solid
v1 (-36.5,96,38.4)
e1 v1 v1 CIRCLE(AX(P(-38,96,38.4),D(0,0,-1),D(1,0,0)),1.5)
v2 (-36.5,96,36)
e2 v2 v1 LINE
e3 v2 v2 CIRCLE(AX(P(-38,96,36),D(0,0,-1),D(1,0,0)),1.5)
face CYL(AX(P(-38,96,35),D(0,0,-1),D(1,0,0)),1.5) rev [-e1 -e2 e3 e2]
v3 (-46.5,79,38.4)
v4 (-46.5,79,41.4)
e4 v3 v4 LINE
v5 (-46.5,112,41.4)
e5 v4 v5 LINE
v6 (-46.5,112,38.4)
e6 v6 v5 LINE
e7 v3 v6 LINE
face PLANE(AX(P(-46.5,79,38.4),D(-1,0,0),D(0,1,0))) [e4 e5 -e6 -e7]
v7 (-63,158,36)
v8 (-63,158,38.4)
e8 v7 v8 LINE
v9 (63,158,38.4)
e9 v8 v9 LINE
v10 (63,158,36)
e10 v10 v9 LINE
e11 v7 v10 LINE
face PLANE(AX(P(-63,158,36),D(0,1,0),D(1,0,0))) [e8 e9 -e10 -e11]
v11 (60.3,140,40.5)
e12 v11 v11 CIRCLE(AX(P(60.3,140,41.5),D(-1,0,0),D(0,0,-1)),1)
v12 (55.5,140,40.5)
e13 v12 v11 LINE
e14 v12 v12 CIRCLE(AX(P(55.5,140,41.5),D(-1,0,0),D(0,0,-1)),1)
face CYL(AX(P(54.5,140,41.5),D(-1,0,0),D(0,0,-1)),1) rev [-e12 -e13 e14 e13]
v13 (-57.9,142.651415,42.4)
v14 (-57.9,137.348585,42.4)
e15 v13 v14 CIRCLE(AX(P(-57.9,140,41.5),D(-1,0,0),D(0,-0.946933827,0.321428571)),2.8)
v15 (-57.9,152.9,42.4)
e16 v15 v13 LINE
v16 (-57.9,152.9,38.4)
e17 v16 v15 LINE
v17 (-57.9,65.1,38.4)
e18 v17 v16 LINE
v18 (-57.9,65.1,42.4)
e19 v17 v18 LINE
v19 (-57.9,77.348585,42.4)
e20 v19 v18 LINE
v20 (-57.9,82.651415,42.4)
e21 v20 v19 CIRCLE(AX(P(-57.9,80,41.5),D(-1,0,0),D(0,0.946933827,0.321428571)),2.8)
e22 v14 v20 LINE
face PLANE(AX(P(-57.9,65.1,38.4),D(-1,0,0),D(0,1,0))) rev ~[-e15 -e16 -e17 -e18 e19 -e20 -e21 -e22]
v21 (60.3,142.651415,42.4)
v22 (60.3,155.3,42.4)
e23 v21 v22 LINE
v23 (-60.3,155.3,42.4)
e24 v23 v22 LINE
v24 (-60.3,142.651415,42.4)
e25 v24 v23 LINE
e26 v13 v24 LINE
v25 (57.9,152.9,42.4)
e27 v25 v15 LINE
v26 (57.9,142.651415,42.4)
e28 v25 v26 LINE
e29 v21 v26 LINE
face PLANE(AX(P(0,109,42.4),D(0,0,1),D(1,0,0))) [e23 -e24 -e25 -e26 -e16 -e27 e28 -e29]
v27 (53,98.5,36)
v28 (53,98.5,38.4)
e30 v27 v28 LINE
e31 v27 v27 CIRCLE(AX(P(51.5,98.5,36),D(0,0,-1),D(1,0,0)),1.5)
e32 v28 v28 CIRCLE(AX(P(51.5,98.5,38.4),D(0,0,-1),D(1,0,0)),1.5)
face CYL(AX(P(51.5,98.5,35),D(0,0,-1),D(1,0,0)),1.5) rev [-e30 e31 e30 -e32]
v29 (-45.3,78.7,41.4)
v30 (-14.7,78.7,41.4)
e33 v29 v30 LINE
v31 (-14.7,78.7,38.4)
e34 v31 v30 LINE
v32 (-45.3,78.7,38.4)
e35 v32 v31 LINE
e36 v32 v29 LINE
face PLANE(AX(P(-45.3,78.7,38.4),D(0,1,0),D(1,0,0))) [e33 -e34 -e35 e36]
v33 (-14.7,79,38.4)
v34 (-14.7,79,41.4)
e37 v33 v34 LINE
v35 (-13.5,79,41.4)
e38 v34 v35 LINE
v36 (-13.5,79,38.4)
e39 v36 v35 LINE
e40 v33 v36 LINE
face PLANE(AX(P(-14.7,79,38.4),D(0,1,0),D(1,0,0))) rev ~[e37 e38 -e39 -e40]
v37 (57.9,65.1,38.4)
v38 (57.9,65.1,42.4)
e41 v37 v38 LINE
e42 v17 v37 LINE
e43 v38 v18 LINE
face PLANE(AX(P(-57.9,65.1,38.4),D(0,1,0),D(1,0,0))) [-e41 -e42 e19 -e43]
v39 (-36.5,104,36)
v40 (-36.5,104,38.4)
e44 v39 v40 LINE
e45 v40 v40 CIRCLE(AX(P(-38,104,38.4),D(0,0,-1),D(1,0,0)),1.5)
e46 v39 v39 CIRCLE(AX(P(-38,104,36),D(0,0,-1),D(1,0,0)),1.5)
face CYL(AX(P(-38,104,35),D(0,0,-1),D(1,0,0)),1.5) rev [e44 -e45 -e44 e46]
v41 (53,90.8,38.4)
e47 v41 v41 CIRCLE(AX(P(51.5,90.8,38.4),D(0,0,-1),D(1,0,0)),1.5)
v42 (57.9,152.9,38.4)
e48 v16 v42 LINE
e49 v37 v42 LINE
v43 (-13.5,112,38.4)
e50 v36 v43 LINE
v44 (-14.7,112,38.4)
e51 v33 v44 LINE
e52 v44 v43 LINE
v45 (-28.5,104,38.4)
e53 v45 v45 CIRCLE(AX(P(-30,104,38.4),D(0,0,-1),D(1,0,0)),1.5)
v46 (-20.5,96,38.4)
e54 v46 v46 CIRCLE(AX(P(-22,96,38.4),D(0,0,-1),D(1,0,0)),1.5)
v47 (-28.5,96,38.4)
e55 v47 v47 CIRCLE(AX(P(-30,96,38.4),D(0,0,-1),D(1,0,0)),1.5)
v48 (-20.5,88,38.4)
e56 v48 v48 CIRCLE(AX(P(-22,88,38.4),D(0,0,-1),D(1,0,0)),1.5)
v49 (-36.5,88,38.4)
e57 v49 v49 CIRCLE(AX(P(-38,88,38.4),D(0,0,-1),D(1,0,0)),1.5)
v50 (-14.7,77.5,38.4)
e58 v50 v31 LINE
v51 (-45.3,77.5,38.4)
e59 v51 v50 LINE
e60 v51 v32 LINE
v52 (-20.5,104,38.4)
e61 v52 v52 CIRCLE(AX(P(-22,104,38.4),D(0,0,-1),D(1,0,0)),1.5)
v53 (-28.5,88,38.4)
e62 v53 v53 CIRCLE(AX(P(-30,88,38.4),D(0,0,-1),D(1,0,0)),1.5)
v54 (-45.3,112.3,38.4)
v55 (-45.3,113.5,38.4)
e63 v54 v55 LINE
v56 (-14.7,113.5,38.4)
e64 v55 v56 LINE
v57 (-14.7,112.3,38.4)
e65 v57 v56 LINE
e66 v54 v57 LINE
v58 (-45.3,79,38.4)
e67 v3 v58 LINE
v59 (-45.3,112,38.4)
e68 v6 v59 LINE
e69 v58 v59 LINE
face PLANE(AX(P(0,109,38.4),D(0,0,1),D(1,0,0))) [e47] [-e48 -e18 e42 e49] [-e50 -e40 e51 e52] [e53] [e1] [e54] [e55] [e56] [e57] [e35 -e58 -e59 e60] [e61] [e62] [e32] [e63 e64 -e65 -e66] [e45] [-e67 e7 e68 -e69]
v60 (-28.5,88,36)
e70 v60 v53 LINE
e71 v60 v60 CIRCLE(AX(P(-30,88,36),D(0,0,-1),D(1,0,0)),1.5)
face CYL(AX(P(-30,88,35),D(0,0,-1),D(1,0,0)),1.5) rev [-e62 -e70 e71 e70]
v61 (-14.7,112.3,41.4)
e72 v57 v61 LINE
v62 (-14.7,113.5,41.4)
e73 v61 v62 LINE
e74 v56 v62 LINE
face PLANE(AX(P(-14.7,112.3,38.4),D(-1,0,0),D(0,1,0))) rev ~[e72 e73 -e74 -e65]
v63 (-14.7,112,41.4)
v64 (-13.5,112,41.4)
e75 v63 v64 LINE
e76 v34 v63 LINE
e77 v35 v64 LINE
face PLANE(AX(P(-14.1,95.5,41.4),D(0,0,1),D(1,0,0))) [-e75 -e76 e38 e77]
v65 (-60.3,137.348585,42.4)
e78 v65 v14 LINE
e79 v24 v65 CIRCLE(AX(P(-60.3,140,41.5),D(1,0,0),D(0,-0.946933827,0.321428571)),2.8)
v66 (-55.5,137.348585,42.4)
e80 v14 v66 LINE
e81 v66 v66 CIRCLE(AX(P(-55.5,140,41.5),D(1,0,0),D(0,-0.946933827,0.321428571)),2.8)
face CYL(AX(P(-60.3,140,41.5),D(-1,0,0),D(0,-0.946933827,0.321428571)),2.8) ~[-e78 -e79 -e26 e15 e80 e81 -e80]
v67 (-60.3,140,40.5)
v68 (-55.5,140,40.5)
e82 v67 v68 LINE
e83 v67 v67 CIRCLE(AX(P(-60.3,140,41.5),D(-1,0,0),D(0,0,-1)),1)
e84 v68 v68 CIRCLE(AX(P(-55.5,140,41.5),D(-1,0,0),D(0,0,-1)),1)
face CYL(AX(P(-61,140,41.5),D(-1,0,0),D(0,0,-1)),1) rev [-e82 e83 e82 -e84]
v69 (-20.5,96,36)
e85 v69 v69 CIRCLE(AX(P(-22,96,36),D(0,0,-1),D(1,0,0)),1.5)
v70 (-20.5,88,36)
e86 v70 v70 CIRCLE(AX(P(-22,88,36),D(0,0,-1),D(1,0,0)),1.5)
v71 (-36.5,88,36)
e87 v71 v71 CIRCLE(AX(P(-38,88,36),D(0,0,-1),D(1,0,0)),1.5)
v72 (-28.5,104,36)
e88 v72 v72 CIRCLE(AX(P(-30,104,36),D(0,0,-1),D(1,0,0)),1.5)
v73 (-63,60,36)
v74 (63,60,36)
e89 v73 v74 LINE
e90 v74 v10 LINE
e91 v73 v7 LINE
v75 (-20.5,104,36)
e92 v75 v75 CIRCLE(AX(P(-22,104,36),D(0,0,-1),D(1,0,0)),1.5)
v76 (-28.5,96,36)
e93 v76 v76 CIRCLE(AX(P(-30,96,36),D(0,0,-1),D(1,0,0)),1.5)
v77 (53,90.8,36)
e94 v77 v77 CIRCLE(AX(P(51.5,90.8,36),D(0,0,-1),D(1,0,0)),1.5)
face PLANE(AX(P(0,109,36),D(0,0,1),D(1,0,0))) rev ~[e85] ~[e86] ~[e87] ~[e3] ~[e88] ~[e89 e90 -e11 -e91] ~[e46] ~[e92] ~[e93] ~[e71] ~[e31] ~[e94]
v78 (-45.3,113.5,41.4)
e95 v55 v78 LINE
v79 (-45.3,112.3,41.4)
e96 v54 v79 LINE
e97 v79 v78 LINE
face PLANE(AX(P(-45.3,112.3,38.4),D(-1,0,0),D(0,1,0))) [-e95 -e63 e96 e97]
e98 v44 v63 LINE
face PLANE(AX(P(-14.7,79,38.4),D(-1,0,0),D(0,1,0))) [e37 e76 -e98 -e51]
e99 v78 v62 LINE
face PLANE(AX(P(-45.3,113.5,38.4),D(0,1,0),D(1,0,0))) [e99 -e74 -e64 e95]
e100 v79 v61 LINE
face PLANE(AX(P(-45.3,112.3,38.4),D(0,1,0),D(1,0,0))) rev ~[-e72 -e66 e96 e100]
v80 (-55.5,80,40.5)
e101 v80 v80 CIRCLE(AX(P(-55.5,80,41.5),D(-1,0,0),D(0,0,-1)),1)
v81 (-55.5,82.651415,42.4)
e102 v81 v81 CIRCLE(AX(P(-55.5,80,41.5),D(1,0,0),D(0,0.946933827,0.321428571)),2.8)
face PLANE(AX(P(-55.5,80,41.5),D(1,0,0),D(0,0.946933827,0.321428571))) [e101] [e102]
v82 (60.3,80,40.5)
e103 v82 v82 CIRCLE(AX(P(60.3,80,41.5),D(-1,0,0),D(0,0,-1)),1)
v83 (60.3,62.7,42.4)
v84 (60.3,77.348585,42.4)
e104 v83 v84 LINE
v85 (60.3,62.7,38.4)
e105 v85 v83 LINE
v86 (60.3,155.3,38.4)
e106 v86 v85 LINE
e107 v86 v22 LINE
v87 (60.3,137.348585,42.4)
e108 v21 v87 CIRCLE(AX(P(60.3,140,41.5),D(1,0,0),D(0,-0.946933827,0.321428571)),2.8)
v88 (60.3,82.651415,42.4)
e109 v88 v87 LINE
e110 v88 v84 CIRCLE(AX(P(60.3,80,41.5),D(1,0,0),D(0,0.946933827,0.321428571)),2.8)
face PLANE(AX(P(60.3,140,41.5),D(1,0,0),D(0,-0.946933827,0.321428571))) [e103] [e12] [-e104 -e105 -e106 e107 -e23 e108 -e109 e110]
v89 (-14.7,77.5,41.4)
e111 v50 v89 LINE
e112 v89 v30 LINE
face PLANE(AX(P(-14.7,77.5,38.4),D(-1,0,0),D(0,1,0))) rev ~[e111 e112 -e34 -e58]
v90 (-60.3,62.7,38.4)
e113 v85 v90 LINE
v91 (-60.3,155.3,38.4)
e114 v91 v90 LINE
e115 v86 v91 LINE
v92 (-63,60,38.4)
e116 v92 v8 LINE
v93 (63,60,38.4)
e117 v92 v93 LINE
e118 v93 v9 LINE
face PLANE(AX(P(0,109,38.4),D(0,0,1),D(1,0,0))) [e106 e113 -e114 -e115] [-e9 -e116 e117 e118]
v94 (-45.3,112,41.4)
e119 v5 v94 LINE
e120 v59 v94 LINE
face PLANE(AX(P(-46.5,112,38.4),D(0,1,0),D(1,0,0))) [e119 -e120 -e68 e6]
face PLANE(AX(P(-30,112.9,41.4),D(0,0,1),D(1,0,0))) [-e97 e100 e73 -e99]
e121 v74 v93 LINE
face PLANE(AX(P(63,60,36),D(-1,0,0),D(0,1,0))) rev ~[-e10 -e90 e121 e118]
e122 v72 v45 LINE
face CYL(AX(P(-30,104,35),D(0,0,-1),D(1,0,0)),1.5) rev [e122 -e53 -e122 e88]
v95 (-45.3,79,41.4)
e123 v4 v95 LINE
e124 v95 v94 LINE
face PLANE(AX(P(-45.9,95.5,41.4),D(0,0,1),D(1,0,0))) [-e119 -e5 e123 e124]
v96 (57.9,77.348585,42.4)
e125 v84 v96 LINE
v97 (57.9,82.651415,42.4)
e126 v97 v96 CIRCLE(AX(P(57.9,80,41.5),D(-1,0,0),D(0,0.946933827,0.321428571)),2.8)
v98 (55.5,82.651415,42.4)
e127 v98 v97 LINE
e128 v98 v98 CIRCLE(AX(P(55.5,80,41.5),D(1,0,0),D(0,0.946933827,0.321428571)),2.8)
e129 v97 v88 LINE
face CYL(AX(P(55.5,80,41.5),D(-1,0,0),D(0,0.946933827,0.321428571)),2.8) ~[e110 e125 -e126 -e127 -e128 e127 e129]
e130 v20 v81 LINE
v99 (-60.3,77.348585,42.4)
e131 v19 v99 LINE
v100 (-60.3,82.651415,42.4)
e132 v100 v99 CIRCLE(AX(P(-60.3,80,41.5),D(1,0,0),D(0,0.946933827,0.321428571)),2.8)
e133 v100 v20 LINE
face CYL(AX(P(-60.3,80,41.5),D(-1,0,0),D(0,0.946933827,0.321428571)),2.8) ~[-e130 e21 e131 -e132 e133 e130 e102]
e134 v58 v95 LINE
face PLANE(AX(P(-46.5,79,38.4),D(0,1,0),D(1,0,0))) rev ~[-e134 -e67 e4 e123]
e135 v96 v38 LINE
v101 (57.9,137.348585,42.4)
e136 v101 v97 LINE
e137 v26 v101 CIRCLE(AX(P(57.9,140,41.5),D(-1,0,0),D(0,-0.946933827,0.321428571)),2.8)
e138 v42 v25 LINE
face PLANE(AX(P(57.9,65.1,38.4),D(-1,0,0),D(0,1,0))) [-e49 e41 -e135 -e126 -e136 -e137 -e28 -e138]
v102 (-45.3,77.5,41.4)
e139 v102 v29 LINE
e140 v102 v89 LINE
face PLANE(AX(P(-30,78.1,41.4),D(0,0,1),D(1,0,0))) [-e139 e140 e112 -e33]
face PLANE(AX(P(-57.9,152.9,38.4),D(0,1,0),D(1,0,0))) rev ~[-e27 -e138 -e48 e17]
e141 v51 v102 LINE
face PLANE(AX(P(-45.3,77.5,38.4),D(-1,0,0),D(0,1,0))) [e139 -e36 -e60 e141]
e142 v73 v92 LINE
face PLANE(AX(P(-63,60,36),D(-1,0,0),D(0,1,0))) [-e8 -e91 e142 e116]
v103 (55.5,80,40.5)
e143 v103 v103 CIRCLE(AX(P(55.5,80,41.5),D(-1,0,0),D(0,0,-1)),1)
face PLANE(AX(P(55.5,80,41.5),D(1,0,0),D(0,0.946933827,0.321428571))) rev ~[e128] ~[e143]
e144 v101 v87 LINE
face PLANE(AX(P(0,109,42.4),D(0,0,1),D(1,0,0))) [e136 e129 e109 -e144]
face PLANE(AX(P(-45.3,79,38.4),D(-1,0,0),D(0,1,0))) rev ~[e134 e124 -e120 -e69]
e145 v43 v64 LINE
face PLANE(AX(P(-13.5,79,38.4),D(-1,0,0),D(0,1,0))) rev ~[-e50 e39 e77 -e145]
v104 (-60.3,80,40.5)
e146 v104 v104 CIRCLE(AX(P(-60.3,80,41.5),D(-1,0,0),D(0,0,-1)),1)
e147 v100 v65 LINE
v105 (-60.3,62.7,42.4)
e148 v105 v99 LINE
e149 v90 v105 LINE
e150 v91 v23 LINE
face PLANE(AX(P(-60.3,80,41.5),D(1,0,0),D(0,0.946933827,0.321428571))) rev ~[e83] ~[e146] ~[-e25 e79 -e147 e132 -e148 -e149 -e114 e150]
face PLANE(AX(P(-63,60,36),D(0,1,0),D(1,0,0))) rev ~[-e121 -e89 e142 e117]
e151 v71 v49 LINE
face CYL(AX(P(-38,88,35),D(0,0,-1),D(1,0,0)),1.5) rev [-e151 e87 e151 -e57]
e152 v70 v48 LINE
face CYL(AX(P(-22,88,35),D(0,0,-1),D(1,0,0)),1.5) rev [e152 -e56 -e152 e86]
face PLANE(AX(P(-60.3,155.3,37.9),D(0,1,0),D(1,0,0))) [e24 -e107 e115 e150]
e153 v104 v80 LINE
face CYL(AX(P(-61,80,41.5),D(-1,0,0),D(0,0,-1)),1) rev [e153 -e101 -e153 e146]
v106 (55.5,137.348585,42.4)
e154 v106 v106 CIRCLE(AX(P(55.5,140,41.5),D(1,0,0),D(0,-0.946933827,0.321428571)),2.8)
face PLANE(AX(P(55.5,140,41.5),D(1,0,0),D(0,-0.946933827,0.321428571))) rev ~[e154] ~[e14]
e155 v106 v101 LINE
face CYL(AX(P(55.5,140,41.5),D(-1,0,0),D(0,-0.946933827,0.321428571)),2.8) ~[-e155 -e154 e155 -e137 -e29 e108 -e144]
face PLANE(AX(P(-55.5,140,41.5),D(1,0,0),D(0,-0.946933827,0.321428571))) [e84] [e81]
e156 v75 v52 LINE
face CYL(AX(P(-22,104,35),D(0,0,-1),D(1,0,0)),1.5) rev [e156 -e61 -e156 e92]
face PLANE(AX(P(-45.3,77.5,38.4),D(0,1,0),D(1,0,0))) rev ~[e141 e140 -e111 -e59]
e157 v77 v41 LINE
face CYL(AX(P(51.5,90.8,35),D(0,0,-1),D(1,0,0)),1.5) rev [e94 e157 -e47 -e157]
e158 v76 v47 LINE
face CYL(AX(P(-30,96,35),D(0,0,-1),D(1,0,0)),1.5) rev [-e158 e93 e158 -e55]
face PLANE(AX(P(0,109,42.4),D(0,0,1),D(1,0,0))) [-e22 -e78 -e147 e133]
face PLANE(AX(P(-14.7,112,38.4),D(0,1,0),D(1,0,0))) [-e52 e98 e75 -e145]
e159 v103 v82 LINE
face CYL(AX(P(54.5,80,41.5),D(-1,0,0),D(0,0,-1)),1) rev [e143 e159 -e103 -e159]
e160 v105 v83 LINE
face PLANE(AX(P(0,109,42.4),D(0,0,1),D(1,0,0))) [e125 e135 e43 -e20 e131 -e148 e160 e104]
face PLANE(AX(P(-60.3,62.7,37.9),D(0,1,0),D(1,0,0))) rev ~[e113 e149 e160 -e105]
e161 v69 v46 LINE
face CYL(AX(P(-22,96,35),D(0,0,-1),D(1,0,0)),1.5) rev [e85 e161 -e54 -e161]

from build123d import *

# Parameters (mm, degrees)
BOSS_EXTRUDE1_START  = 36
SKETCH1_W            = 126
SKETCH1_H            = 98
BOSS_EXTRUDE1_DEPTH  = 2.4
BOSS_EXTRUDE2_START  = 37.9
SKETCH2_W            = 120.6
SKETCH2_H            = 92.6
BOSS_EXTRUDE2_DEPTH  = 4.5
BOSS_EXTRUDE3_START  = 38.4
SKETCH3_W            = 115.8
SKETCH3_H            = 87.8
BOSS_EXTRUDE3_DEPTH  = 5
BOSS_EXTRUDE4_START  = -60.3
SKETCH4_R            = 2.8
BOSS_EXTRUDE4_DEPTH  = 4.8
BOSS_EXTRUDE5_START  = -61
SKETCH5_R            = 1
BOSS_EXTRUDE5_DEPTH  = 6.5
BOSS_EXTRUDE6_START  = -60.3
SKETCH6_R            = 2.8
BOSS_EXTRUDE6_DEPTH  = 4.8
BOSS_EXTRUDE7_START  = -61
SKETCH7_R            = 1
BOSS_EXTRUDE7_DEPTH  = 6.5
BOSS_EXTRUDE8_START  = 55.5
SKETCH8_R            = 2.8
BOSS_EXTRUDE8_DEPTH  = 4.8
BOSS_EXTRUDE9_START  = 54.5
SKETCH9_R            = 1
BOSS_EXTRUDE9_DEPTH  = 6.5
BOSS_EXTRUDE10_START = 55.5
SKETCH10_R           = 2.8
BOSS_EXTRUDE10_DEPTH = 4.8
BOSS_EXTRUDE11_START = 54.5
SKETCH11_R           = 1
BOSS_EXTRUDE11_DEPTH = 6.5
BOSS_EXTRUDE12_START = 35
SKETCH12_R           = 1.5
BOSS_EXTRUDE12_DEPTH = 4.4
BOSS_EXTRUDE13_START = 35
SKETCH13_R           = 1.5
BOSS_EXTRUDE13_DEPTH = 4.4
BOSS_EXTRUDE14_START = 35
SKETCH14_R           = 1.5
BOSS_EXTRUDE14_DEPTH = 4.4
BOSS_EXTRUDE15_START = 35
SKETCH15_R           = 1.5
BOSS_EXTRUDE15_DEPTH = 4.4
BOSS_EXTRUDE16_START = 35
SKETCH16_R           = 1.5
BOSS_EXTRUDE16_DEPTH = 4.4
BOSS_EXTRUDE17_START = 35
SKETCH17_R           = 1.5
BOSS_EXTRUDE17_DEPTH = 4.4
BOSS_EXTRUDE18_START = 35
SKETCH18_R           = 1.5
BOSS_EXTRUDE18_DEPTH = 4.4
BOSS_EXTRUDE19_START = 35
SKETCH19_R           = 1.5
BOSS_EXTRUDE19_DEPTH = 4.4
BOSS_EXTRUDE20_START = 35
SKETCH20_R           = 1.5
BOSS_EXTRUDE20_DEPTH = 4.4
BOSS_EXTRUDE21_START = 38.4
SKETCH21_W           = 1.2
SKETCH21_H           = 33
BOSS_EXTRUDE21_DEPTH = 3
BOSS_EXTRUDE22_START = 38.4
SKETCH22_W           = 1.2
SKETCH22_H           = 33
BOSS_EXTRUDE22_DEPTH = 3
BOSS_EXTRUDE23_START = 38.4
SKETCH23_W           = 30.6
SKETCH23_H           = 1.2
BOSS_EXTRUDE23_DEPTH = 3
BOSS_EXTRUDE24_START = 38.4
SKETCH24_W           = 30.6
SKETCH24_H           = 1.2
BOSS_EXTRUDE24_DEPTH = 3
BOSS_EXTRUDE25_START = 35
SKETCH25_R           = 1.5
BOSS_EXTRUDE25_DEPTH = 4.4
BOSS_EXTRUDE26_START = 35
SKETCH26_R           = 1.5
BOSS_EXTRUDE26_DEPTH = 4.4


with BuildPart() as part:
    # Sketch1 → Boss-Extrude1 (new body)
    with BuildSketch(Plane.XY.offset(BOSS_EXTRUDE1_START)):
        with Locations((0, 109)):
            Rectangle(SKETCH1_W, SKETCH1_H)
    extrude(amount=BOSS_EXTRUDE1_DEPTH)

    # Sketch2 → Boss-Extrude2 (add)
    with BuildSketch(Plane.XY.offset(BOSS_EXTRUDE2_START)):
        with Locations((0, 109)):
            Rectangle(SKETCH2_W, SKETCH2_H)
    extrude(amount=BOSS_EXTRUDE2_DEPTH)


with BuildPart() as body_2:
    # Sketch3 → Boss-Extrude3 (new body)
    with BuildSketch(Plane.XY.offset(BOSS_EXTRUDE3_START)):
        with Locations((0, 109)):
            Rectangle(SKETCH3_W, SKETCH3_H)
    extrude(amount=BOSS_EXTRUDE3_DEPTH)


with BuildPart() as part_1:
    add(part.part)

    # Combine1: cut body 2
    add(body_2.part, mode=Mode.SUBTRACT)

    # Sketch4 → Boss-Extrude4 (add)
    with BuildSketch(Plane(origin=(0, 0, 0), x_dir=(0, 0, -1), z_dir=(1, 0, 0)).offset(BOSS_EXTRUDE4_START)):
        with Locations((-41.5, 80)):
            Circle(SKETCH4_R)
    extrude(amount=BOSS_EXTRUDE4_DEPTH)


with BuildPart() as body_2_2:
    # Sketch5 → Boss-Extrude5 (new body)
    with BuildSketch(Plane(origin=(0, 0, 0), x_dir=(0, 0, -1), z_dir=(1, 0, 0)).offset(BOSS_EXTRUDE5_START)):
        with Locations((-41.5, 80)):
            Circle(SKETCH5_R)
    extrude(amount=BOSS_EXTRUDE5_DEPTH)


with BuildPart() as part_2:
    add(part_1.part)

    # Combine2: cut body 2 2
    add(body_2_2.part, mode=Mode.SUBTRACT)

    # Sketch6 → Boss-Extrude6 (add)
    with BuildSketch(Plane(origin=(0, 0, 0), x_dir=(0, 0, -1), z_dir=(1, 0, 0)).offset(BOSS_EXTRUDE6_START)):
        with Locations((-41.5, 140)):
            Circle(SKETCH6_R)
    extrude(amount=BOSS_EXTRUDE6_DEPTH)


with BuildPart() as body_2_3:
    # Sketch7 → Boss-Extrude7 (new body)
    with BuildSketch(Plane(origin=(0, 0, 0), x_dir=(0, 0, -1), z_dir=(1, 0, 0)).offset(BOSS_EXTRUDE7_START)):
        with Locations((-41.5, 140)):
            Circle(SKETCH7_R)
    extrude(amount=BOSS_EXTRUDE7_DEPTH)


with BuildPart() as part_3:
    add(part_2.part)

    # Combine3: cut body 2 3
    add(body_2_3.part, mode=Mode.SUBTRACT)

    # Sketch8 → Boss-Extrude8 (add)
    with BuildSketch(Plane(origin=(0, 0, 0), x_dir=(0, 0, -1), z_dir=(1, 0, 0)).offset(BOSS_EXTRUDE8_START)):
        with Locations((-41.5, 80)):
            Circle(SKETCH8_R)
    extrude(amount=BOSS_EXTRUDE8_DEPTH)


with BuildPart() as body_2_4:
    # Sketch9 → Boss-Extrude9 (new body)
    with BuildSketch(Plane(origin=(0, 0, 0), x_dir=(0, 0, -1), z_dir=(1, 0, 0)).offset(BOSS_EXTRUDE9_START)):
        with Locations((-41.5, 80)):
            Circle(SKETCH9_R)
    extrude(amount=BOSS_EXTRUDE9_DEPTH)


with BuildPart() as part_4:
    add(part_3.part)

    # Combine4: cut body 2 4
    add(body_2_4.part, mode=Mode.SUBTRACT)

    # Sketch10 → Boss-Extrude10 (add)
    with BuildSketch(Plane(origin=(0, 0, 0), x_dir=(0, 0, -1), z_dir=(1, 0, 0)).offset(BOSS_EXTRUDE10_START)):
        with Locations((-41.5, 140)):
            Circle(SKETCH10_R)
    extrude(amount=BOSS_EXTRUDE10_DEPTH)


with BuildPart() as body_2_5:
    # Sketch11 → Boss-Extrude11 (new body)
    with BuildSketch(Plane(origin=(0, 0, 0), x_dir=(0, 0, -1), z_dir=(1, 0, 0)).offset(BOSS_EXTRUDE11_START)):
        with Locations((-41.5, 140)):
            Circle(SKETCH11_R)
    extrude(amount=BOSS_EXTRUDE11_DEPTH)


with BuildPart() as part_5:
    add(part_4.part)

    # Combine5: cut body 2 5
    add(body_2_5.part, mode=Mode.SUBTRACT)


with BuildPart() as body_2_6:
    # Sketch12 → Boss-Extrude12 (new body)
    with BuildSketch(Plane.XY.offset(BOSS_EXTRUDE12_START)):
        with Locations((-38, 88)):
            Circle(SKETCH12_R)
    extrude(amount=BOSS_EXTRUDE12_DEPTH)


with BuildPart() as part_6:
    add(part_5.part)

    # Combine6: cut body 2 6
    add(body_2_6.part, mode=Mode.SUBTRACT)


with BuildPart() as body_2_7:
    # Sketch13 → Boss-Extrude13 (new body)
    with BuildSketch(Plane.XY.offset(BOSS_EXTRUDE13_START)):
        with Locations((-38, 96)):
            Circle(SKETCH13_R)
    extrude(amount=BOSS_EXTRUDE13_DEPTH)


with BuildPart() as part_7:
    add(part_6.part)

    # Combine7: cut body 2 7
    add(body_2_7.part, mode=Mode.SUBTRACT)


with BuildPart() as body_2_8:
    # Sketch14 → Boss-Extrude14 (new body)
    with BuildSketch(Plane.XY.offset(BOSS_EXTRUDE14_START)):
        with Locations((-38, 104)):
            Circle(SKETCH14_R)
    extrude(amount=BOSS_EXTRUDE14_DEPTH)


with BuildPart() as part_8:
    add(part_7.part)

    # Combine8: cut body 2 8
    add(body_2_8.part, mode=Mode.SUBTRACT)


with BuildPart() as body_2_9:
    # Sketch15 → Boss-Extrude15 (new body)
    with BuildSketch(Plane.XY.offset(BOSS_EXTRUDE15_START)):
        with Locations((-30, 88)):
            Circle(SKETCH15_R)
    extrude(amount=BOSS_EXTRUDE15_DEPTH)


with BuildPart() as part_9:
    add(part_8.part)

    # Combine9: cut body 2 9
    add(body_2_9.part, mode=Mode.SUBTRACT)


with BuildPart() as body_2_10:
    # Sketch16 → Boss-Extrude16 (new body)
    with BuildSketch(Plane.XY.offset(BOSS_EXTRUDE16_START)):
        with Locations((-30, 96)):
            Circle(SKETCH16_R)
    extrude(amount=BOSS_EXTRUDE16_DEPTH)


with BuildPart() as part_10:
    add(part_9.part)

    # Combine10: cut body 2 10
    add(body_2_10.part, mode=Mode.SUBTRACT)


with BuildPart() as body_2_11:
    # Sketch17 → Boss-Extrude17 (new body)
    with BuildSketch(Plane.XY.offset(BOSS_EXTRUDE17_START)):
        with Locations((-30, 104)):
            Circle(SKETCH17_R)
    extrude(amount=BOSS_EXTRUDE17_DEPTH)


with BuildPart() as part_11:
    add(part_10.part)

    # Combine11: cut body 2 11
    add(body_2_11.part, mode=Mode.SUBTRACT)


with BuildPart() as body_2_12:
    # Sketch18 → Boss-Extrude18 (new body)
    with BuildSketch(Plane.XY.offset(BOSS_EXTRUDE18_START)):
        with Locations((-22, 88)):
            Circle(SKETCH18_R)
    extrude(amount=BOSS_EXTRUDE18_DEPTH)


with BuildPart() as part_12:
    add(part_11.part)

    # Combine12: cut body 2 12
    add(body_2_12.part, mode=Mode.SUBTRACT)


with BuildPart() as body_2_13:
    # Sketch19 → Boss-Extrude19 (new body)
    with BuildSketch(Plane.XY.offset(BOSS_EXTRUDE19_START)):
        with Locations((-22, 96)):
            Circle(SKETCH19_R)
    extrude(amount=BOSS_EXTRUDE19_DEPTH)


with BuildPart() as part_13:
    add(part_12.part)

    # Combine13: cut body 2 13
    add(body_2_13.part, mode=Mode.SUBTRACT)


with BuildPart() as body_2_14:
    # Sketch20 → Boss-Extrude20 (new body)
    with BuildSketch(Plane.XY.offset(BOSS_EXTRUDE20_START)):
        with Locations((-22, 104)):
            Circle(SKETCH20_R)
    extrude(amount=BOSS_EXTRUDE20_DEPTH)


with BuildPart() as part_14:
    add(part_13.part)

    # Combine14: cut body 2 14
    add(body_2_14.part, mode=Mode.SUBTRACT)

    # Sketch21 → Boss-Extrude21 (add)
    with BuildSketch(Plane.XY.offset(BOSS_EXTRUDE21_START)):
        with Locations((-45.9, 95.5)):
            Rectangle(SKETCH21_W, SKETCH21_H)
    extrude(amount=BOSS_EXTRUDE21_DEPTH)

    # Sketch22 → Boss-Extrude22 (add)
    with BuildSketch(Plane.XY.offset(BOSS_EXTRUDE22_START)):
        with Locations((-14.1, 95.5)):
            Rectangle(SKETCH22_W, SKETCH22_H)
    extrude(amount=BOSS_EXTRUDE22_DEPTH)

    # Sketch23 → Boss-Extrude23 (add)
    with BuildSketch(Plane.XY.offset(BOSS_EXTRUDE23_START)):
        with Locations((-30, 112.9)):
            Rectangle(SKETCH23_W, SKETCH23_H)
    extrude(amount=BOSS_EXTRUDE23_DEPTH)

    # Sketch24 → Boss-Extrude24 (add)
    with BuildSketch(Plane.XY.offset(BOSS_EXTRUDE24_START)):
        with Locations((-30, 78.1)):
            Rectangle(SKETCH24_W, SKETCH24_H)
    extrude(amount=BOSS_EXTRUDE24_DEPTH)


with BuildPart() as body_2_15:
    # Sketch25 → Boss-Extrude25 (new body)
    with BuildSketch(Plane.XY.offset(BOSS_EXTRUDE25_START)):
        with Locations((51.5, 98.5)):
            Circle(SKETCH25_R)
    extrude(amount=BOSS_EXTRUDE25_DEPTH)


with BuildPart() as part_15:
    add(part_14.part)

    # Combine15: cut body 2 15
    add(body_2_15.part, mode=Mode.SUBTRACT)


with BuildPart() as body_2_16:
    # Sketch26 → Boss-Extrude26 (new body)
    with BuildSketch(Plane.XY.offset(BOSS_EXTRUDE26_START)):
        with Locations((51.5, 90.8)):
            Circle(SKETCH26_R)
    extrude(amount=BOSS_EXTRUDE26_DEPTH)


with BuildPart() as part_16:
    add(part_15.part)

    # Combine16: cut body 2 16
    add(body_2_16.part, mode=Mode.SUBTRACT)


solid = part_16.part
